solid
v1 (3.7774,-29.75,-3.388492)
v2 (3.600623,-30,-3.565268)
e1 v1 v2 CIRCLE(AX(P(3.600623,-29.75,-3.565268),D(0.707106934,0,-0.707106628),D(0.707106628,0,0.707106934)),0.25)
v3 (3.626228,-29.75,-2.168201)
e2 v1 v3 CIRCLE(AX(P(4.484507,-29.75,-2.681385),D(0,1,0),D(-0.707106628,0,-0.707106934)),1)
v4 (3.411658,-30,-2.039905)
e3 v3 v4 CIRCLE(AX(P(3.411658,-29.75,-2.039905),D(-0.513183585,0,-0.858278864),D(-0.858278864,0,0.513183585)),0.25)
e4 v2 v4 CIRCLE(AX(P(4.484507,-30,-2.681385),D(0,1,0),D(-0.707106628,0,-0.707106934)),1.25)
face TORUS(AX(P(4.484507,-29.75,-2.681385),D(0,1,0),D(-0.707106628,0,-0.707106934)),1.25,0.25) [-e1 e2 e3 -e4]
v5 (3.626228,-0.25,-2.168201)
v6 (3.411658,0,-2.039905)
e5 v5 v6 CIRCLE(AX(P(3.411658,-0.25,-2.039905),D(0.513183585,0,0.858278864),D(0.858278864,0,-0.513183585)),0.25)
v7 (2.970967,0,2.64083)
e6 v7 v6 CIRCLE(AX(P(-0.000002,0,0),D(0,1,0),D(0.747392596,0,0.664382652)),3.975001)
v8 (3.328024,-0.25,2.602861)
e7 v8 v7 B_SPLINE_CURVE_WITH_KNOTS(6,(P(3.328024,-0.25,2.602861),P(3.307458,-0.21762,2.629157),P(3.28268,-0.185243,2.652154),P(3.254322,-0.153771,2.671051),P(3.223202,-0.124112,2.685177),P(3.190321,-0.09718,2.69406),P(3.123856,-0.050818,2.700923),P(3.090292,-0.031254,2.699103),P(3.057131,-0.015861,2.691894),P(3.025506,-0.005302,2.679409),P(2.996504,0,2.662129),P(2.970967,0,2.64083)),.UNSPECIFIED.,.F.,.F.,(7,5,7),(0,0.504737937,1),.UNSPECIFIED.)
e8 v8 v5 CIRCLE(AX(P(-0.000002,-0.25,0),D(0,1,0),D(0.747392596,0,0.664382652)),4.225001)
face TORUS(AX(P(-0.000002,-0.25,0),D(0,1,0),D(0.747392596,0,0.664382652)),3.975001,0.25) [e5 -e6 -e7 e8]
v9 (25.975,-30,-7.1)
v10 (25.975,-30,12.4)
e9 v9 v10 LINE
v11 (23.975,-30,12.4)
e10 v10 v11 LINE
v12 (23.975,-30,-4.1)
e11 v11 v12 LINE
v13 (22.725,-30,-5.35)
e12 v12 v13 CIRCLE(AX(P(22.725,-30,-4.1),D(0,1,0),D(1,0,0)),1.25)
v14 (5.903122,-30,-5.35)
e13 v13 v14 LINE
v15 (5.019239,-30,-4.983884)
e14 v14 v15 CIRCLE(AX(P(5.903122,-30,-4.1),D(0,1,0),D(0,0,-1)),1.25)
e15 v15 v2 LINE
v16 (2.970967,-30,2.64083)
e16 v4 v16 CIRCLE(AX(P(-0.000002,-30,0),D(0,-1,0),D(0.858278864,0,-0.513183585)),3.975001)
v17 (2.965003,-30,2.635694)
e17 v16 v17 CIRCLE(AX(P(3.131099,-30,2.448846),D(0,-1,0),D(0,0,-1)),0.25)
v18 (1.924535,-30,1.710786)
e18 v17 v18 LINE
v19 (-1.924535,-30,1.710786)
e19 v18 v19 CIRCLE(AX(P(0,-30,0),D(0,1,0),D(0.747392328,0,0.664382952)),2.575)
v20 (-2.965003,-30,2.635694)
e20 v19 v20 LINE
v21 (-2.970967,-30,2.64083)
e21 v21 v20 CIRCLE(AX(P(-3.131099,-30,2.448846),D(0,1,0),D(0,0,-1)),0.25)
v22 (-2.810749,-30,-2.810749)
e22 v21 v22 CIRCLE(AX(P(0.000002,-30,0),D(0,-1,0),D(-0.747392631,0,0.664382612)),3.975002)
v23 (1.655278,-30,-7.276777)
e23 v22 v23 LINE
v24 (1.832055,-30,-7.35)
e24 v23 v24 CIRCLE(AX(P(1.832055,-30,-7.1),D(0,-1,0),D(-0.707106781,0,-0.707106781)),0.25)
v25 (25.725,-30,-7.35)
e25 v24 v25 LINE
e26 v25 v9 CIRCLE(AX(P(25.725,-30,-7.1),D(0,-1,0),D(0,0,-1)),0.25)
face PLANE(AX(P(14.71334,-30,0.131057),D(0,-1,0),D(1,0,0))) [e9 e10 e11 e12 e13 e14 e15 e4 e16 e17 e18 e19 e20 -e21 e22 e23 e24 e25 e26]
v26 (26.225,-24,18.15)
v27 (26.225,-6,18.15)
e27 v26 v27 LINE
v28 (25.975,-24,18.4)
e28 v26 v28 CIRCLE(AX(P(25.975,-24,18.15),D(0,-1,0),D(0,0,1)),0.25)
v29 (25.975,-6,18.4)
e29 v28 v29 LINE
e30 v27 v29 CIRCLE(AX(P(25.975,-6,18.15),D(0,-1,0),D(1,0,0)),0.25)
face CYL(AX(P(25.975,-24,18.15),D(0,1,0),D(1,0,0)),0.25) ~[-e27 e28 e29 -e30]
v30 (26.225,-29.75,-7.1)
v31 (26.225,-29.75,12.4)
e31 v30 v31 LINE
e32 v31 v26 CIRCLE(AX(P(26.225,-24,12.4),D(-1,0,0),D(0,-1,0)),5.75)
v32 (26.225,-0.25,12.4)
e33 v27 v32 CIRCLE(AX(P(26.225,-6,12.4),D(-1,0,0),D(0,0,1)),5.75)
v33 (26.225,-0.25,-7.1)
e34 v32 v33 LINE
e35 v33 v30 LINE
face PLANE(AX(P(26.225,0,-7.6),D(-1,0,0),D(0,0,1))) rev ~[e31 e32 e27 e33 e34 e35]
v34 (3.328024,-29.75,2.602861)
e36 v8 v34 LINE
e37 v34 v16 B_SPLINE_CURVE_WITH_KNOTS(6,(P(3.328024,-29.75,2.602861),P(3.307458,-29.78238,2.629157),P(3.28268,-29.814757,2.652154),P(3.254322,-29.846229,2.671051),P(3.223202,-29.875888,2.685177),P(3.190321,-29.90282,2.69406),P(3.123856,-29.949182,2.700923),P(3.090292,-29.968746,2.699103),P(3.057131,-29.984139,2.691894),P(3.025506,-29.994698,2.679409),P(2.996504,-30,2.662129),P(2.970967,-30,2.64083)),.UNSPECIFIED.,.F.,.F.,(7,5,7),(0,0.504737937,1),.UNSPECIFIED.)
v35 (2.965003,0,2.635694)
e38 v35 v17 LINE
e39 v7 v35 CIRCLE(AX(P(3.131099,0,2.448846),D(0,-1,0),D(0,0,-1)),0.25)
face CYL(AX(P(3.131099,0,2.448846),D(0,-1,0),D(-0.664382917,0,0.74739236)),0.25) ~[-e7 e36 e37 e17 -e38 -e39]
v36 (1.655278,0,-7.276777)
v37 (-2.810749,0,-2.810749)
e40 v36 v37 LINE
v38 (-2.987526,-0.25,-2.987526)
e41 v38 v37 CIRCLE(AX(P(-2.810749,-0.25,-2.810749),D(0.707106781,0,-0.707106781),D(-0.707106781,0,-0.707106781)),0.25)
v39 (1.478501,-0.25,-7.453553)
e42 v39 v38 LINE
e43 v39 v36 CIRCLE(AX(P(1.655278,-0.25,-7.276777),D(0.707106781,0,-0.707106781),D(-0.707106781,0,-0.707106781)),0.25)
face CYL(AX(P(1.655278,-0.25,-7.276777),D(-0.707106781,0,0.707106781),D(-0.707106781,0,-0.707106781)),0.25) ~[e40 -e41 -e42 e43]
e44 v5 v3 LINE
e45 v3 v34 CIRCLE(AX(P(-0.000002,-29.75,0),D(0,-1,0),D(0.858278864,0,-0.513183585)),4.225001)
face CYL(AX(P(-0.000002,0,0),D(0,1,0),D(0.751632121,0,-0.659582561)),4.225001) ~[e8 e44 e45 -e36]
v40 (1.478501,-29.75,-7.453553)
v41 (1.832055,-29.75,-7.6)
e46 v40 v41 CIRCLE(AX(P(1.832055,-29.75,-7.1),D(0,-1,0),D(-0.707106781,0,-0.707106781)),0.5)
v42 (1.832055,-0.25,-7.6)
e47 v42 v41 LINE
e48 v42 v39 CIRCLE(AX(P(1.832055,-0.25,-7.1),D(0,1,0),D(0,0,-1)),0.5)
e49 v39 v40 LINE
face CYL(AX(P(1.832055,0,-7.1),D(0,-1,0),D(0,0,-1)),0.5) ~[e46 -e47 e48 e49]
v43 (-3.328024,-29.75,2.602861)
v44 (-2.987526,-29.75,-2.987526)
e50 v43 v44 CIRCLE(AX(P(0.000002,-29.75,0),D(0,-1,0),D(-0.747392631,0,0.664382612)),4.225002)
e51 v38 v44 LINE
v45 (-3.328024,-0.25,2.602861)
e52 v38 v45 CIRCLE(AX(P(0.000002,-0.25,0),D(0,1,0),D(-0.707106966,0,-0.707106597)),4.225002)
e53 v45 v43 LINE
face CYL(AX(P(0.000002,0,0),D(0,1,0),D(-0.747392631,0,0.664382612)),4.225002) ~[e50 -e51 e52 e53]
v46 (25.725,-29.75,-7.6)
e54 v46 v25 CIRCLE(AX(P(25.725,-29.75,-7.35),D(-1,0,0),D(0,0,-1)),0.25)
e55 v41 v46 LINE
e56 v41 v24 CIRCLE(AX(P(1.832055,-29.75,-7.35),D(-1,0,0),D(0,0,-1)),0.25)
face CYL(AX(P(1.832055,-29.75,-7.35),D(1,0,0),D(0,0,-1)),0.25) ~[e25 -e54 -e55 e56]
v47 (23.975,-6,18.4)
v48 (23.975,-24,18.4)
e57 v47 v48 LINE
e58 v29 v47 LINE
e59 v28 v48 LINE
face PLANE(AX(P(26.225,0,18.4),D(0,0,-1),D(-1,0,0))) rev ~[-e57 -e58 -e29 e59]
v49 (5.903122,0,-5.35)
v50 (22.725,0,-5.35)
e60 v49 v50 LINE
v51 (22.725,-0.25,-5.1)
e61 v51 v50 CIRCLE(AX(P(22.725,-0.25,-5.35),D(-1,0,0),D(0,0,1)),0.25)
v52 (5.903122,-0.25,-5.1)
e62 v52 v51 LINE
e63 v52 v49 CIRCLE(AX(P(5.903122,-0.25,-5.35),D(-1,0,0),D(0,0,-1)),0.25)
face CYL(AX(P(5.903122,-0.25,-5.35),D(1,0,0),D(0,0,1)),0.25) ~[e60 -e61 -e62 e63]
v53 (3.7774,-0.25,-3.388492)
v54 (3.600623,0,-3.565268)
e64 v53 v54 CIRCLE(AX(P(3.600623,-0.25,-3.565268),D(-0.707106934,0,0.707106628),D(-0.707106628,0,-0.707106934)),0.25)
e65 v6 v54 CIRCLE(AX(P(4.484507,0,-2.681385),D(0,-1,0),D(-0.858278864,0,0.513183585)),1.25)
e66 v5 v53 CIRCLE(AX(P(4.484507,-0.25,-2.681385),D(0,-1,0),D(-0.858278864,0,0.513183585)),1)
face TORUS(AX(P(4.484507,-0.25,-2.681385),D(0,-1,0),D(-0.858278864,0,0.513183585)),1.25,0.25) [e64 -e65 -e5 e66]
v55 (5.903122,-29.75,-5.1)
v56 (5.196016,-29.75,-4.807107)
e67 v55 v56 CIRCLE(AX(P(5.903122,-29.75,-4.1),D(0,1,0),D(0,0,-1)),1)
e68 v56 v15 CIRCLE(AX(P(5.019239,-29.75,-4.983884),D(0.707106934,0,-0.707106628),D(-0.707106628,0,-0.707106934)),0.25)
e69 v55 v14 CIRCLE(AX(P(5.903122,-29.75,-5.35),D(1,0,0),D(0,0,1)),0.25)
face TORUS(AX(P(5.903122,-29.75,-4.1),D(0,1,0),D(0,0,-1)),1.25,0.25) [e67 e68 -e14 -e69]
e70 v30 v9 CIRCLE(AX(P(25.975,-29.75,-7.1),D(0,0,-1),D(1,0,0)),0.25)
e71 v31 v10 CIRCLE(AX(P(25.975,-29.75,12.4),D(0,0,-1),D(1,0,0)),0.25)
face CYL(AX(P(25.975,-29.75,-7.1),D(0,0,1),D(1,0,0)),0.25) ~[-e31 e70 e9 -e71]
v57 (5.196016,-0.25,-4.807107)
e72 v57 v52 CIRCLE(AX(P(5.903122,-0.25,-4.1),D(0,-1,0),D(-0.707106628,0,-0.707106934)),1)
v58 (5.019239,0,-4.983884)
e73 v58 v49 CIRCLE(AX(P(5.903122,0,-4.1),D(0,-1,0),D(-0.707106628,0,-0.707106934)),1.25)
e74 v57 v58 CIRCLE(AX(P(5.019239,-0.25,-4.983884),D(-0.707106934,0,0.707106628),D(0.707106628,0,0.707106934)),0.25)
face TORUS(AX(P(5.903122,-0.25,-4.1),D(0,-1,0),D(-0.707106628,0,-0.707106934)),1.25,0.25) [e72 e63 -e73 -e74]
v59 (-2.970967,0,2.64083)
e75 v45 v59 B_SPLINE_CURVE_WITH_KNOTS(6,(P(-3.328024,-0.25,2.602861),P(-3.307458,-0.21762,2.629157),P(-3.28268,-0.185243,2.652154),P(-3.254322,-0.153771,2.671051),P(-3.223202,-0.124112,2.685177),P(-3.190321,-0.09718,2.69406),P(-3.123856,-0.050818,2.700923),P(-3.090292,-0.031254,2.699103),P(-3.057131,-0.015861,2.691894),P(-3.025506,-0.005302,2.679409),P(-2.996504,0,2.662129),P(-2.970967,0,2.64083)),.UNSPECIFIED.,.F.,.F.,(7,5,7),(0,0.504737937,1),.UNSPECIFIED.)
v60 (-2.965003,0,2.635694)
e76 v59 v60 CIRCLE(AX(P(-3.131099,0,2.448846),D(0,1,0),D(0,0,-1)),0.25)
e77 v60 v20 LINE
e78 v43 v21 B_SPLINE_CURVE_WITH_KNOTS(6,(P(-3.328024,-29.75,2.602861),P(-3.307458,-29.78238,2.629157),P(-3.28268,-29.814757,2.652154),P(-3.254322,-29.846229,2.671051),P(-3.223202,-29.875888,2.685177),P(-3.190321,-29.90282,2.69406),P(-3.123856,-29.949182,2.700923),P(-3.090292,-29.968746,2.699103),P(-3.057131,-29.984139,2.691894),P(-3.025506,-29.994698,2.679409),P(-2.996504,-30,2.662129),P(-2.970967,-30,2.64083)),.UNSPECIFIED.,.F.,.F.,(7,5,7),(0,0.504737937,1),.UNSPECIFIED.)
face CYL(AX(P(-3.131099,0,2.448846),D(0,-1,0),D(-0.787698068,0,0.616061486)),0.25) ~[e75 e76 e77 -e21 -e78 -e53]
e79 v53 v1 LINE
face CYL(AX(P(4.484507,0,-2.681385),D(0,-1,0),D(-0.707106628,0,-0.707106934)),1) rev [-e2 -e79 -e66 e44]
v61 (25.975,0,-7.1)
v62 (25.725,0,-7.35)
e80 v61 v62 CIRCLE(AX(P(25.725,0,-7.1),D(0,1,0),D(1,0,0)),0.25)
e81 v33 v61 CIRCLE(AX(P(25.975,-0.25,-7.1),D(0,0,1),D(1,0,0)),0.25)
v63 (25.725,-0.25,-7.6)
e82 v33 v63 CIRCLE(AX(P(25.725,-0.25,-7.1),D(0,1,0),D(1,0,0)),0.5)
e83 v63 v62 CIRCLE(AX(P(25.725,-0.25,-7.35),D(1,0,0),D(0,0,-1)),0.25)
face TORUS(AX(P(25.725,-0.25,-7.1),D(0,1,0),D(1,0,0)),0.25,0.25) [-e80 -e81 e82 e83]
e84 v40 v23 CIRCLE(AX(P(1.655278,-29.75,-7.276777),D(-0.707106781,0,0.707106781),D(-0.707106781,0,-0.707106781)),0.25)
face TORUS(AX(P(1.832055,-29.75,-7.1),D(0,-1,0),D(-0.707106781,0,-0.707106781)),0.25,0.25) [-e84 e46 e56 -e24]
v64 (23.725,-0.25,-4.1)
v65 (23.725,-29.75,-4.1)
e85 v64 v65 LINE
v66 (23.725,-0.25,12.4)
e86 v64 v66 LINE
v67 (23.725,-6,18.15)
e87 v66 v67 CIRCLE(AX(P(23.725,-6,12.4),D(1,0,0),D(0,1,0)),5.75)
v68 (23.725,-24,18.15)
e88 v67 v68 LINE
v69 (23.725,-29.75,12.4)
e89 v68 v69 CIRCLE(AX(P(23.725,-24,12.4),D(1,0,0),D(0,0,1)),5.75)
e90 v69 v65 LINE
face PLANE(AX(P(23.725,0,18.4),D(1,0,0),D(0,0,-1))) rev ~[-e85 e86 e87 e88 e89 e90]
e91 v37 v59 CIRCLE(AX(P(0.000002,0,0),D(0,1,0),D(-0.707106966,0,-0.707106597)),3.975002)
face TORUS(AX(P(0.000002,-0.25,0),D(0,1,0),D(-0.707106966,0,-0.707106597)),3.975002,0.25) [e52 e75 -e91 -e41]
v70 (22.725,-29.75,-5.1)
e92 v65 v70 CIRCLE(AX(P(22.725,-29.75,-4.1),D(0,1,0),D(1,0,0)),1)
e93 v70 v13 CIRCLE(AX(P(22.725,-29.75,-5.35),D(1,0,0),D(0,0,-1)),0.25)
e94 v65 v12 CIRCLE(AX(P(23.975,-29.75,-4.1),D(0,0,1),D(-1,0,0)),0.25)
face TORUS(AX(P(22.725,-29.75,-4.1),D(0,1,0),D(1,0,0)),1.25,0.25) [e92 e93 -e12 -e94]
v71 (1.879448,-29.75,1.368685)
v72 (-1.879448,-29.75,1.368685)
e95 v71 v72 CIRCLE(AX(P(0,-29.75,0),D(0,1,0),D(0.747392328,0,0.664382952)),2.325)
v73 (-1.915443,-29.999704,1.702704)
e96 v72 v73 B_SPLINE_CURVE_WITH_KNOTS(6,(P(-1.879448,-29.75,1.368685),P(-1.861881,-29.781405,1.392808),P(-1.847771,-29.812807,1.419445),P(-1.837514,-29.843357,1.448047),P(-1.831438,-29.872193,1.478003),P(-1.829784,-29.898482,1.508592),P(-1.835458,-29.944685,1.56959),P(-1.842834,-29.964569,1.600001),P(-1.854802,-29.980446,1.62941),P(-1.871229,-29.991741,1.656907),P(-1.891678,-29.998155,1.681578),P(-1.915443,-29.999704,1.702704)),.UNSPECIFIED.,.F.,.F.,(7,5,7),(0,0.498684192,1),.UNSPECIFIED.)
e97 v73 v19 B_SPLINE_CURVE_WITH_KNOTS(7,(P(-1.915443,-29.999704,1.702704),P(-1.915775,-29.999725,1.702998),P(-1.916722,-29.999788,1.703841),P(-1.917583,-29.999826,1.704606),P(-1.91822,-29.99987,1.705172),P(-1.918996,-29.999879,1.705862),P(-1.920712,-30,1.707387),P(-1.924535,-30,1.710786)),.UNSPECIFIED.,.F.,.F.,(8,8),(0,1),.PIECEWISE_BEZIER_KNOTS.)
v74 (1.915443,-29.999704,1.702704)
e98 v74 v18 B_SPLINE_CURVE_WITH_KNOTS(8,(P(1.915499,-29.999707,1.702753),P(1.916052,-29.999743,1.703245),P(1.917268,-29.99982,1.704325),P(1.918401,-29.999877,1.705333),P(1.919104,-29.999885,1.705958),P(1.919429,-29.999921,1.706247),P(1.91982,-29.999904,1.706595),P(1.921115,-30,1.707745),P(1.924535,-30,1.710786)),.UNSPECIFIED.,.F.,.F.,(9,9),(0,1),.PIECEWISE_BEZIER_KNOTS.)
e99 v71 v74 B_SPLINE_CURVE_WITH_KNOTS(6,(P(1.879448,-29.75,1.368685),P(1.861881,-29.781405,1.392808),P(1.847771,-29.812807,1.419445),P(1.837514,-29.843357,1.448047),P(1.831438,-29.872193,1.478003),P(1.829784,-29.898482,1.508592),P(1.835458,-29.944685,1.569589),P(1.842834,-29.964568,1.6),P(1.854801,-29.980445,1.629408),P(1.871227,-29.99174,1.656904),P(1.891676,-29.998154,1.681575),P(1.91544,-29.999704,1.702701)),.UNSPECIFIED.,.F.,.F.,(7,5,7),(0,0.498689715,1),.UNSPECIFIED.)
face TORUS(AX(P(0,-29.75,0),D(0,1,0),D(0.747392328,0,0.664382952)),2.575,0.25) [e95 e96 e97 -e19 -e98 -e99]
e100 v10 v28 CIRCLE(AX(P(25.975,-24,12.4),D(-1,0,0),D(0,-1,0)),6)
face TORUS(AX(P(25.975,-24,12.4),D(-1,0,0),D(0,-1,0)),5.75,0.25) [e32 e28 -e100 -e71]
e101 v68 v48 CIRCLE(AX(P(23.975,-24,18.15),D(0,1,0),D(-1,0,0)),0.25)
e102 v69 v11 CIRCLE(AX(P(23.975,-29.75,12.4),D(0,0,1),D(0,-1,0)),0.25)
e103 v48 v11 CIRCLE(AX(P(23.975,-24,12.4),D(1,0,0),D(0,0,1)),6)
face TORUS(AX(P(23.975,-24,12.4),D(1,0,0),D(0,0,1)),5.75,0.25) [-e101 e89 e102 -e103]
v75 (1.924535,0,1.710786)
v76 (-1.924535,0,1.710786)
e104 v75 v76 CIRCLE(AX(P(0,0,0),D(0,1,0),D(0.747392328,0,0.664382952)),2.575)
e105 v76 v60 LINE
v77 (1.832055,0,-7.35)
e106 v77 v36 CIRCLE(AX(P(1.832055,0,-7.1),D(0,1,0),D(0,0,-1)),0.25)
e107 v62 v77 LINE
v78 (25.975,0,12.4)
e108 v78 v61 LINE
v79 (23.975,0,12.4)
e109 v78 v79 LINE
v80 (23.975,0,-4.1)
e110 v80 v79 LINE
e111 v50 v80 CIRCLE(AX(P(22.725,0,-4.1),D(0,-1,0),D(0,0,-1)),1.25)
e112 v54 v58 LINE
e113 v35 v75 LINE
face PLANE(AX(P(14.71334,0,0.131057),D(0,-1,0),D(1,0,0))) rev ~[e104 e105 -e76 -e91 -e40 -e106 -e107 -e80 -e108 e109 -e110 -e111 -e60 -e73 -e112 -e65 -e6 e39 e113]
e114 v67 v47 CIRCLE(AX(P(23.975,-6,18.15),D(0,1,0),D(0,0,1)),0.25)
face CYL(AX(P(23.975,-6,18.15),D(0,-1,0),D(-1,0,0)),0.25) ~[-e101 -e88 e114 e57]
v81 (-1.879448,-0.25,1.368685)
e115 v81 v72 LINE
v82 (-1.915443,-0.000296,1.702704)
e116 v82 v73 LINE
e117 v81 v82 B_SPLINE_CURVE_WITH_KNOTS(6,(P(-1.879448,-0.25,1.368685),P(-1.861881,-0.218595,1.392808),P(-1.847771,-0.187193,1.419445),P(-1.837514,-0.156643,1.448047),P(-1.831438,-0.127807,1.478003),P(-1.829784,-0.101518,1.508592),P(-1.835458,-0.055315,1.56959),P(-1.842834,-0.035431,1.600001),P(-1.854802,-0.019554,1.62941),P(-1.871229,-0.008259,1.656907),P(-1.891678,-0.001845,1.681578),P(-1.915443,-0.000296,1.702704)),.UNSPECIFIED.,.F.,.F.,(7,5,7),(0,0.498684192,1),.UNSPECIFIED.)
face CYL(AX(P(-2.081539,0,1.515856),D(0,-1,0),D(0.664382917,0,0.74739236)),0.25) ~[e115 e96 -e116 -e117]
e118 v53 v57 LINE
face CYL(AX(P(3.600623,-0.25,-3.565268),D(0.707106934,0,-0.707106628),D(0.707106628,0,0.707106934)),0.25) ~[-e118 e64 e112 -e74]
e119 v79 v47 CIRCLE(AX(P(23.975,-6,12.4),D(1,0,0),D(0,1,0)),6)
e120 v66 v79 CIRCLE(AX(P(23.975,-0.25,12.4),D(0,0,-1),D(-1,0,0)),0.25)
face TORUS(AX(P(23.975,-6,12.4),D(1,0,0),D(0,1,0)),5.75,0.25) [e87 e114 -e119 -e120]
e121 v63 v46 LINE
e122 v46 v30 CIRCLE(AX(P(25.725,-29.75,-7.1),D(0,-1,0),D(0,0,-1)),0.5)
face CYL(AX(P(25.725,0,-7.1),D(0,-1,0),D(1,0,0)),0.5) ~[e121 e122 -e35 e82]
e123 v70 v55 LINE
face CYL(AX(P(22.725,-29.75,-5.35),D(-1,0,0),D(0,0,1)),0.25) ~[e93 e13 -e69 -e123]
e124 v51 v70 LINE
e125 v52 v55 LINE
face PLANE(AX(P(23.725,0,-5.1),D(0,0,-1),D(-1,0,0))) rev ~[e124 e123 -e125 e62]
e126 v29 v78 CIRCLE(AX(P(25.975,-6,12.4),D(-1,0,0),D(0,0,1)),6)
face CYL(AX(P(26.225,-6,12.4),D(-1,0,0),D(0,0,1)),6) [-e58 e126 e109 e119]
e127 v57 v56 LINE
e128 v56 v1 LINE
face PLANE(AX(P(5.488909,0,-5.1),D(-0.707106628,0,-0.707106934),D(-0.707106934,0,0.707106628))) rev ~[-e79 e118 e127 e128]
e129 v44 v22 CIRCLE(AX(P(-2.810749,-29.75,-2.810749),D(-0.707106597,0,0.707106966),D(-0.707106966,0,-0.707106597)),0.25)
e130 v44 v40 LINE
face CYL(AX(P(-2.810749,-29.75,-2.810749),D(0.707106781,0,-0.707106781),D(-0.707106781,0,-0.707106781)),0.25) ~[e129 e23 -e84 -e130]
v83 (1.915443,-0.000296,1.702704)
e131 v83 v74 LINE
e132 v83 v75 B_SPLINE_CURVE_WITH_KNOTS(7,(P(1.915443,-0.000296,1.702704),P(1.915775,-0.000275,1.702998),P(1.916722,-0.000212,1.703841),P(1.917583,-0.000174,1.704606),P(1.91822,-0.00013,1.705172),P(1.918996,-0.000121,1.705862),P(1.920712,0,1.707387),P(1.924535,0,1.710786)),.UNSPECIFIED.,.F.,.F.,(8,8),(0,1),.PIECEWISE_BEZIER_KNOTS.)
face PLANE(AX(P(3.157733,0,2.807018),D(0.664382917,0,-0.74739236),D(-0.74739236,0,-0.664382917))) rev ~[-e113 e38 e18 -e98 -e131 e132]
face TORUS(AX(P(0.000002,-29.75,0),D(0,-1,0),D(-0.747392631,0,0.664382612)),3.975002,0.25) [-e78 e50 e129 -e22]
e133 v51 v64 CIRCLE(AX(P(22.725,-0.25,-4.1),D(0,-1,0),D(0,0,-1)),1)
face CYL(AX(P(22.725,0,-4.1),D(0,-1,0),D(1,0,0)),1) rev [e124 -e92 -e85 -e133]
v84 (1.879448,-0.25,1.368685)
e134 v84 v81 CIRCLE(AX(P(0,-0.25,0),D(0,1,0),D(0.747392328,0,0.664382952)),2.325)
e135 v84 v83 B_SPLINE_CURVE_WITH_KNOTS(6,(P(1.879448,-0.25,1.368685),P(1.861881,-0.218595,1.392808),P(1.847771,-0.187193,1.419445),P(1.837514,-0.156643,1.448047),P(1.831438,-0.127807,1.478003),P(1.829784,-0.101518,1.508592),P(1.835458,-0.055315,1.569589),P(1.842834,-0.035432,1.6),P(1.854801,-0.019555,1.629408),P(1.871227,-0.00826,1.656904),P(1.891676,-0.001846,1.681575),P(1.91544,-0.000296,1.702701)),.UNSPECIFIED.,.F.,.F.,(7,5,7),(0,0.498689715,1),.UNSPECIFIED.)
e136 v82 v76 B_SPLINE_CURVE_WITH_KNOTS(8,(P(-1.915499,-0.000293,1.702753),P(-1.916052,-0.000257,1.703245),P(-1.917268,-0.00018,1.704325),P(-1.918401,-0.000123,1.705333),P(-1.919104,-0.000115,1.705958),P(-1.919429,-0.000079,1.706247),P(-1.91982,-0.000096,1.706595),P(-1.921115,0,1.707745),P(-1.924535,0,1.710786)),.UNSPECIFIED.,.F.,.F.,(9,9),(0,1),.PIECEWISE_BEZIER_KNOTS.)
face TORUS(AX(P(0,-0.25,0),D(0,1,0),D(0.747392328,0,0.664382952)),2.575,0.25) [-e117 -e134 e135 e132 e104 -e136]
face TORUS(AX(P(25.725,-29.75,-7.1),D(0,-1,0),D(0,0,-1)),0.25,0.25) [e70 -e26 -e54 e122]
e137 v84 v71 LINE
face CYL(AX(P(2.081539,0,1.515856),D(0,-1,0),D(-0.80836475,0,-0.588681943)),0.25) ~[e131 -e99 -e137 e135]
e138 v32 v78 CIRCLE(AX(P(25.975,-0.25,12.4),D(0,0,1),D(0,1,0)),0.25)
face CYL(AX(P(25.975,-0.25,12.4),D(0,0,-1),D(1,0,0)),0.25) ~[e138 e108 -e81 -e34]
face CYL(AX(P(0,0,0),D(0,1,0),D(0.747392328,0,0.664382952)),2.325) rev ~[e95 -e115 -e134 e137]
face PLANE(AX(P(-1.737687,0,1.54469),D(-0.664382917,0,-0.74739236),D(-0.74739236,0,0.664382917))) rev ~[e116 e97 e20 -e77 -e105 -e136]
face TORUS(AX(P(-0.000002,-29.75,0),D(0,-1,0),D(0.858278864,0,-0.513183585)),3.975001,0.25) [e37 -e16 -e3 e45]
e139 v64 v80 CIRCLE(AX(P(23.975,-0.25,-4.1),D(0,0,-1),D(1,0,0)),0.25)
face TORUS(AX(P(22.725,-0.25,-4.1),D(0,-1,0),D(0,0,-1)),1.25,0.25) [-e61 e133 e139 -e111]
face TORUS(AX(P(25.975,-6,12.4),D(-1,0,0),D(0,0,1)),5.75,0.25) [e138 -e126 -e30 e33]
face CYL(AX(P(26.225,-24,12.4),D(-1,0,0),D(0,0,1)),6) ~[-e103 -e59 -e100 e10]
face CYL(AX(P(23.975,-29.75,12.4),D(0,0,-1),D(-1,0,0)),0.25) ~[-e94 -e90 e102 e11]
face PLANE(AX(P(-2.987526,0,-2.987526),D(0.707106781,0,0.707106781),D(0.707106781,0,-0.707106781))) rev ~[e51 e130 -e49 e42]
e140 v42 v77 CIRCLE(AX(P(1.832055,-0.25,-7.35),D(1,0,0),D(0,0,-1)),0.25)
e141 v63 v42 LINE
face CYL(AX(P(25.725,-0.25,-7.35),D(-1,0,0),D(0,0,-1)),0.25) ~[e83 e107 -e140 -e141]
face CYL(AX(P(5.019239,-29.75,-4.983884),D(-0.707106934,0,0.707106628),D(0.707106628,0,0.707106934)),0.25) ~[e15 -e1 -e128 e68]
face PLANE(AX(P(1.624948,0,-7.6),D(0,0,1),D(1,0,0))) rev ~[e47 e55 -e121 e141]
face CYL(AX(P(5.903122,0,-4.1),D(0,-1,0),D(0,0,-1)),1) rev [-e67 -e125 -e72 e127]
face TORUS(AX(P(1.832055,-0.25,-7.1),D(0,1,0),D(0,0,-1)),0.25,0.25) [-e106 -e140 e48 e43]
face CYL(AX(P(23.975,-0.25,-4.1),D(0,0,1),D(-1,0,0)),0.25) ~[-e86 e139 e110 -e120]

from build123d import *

# Parameters (mm, degrees)
F1_DEPTH = 30
F2_R     = 6
F3_R     = 1
F4_R     = 0.5
F5_R     = 0.25


with BuildPart() as f1:
    # F0 (on Front) → F1 (new body)
    with BuildSketch(Plane.XZ):
        with BuildLine():
            ThreePointArc((1.737687, 1.54469), (0, -2.325), (-1.737687, 1.54469))
            Line((-1.737687, 1.54469), (-3.157733, 2.807018))
            ThreePointArc((-3.157733, 2.807018), (-4.223178, -0.12405), (-2.987526, -2.987526))
            Line((-2.987526, -2.987526), (1.624948, -7.6))
            Line((1.624948, -7.6), (26.225, -7.6))
            Line((26.225, -7.6), (26.225, 18.4))
            Line((26.225, 18.4), (23.725, 18.4))
            Line((23.725, 18.4), (23.725, -5.1))
            Line((23.725, -5.1), (5.488909, -5.1))
            Line((5.488909, -5.1), (3.175645, -2.786737))
            ThreePointArc((3.175645, -2.786737), (4.224978, 0.013529), (3.157733, 2.807018))
            Line((3.157733, 2.807018), (1.737687, 1.54469))
        make_face()
    extrude(amount=F1_DEPTH)

    # F2
    f2_edges = [f1.edges().sort_by_distance(p)[0] for p in [
        (24.975, -30, 18.4),
        (24.975, 0, 18.4),
    ]]
    fillet(f2_edges, radius=F2_R)

    # F3
    f3_edges = [f1.edges().sort_by_distance(p)[0] for p in [
        (23.725, -15, -5.1),
        (5.488909, -15, -5.1),
        (3.175645, -15, -2.786737),
    ]]
    fillet(f3_edges, radius=F3_R)

    # F4
    f4_edges = [f1.edges().sort_by_distance(p)[0] for p in [
        (26.225, -15, -7.6),
        (1.624948, -15, -7.6),
    ]]
    fillet(f4_edges, radius=F4_R)

    # F5
    f5_edges = [f1.edges().sort_by_distance(p)[0] for p in [
        (-1.737687, -15, 1.54469),
        (-3.157733, -15, 2.807018),
        (1.737687, -15, 1.54469),
        (3.157733, -15, 2.807018),
        (4.206392, -30, 0.396098),
        (-4.223178, -30, -0.12405),
        (0, -30, -2.325),
        (0, 0, -2.325),
    ]]
    fillet(f5_edges, radius=F5_R)


solid = f1.part
